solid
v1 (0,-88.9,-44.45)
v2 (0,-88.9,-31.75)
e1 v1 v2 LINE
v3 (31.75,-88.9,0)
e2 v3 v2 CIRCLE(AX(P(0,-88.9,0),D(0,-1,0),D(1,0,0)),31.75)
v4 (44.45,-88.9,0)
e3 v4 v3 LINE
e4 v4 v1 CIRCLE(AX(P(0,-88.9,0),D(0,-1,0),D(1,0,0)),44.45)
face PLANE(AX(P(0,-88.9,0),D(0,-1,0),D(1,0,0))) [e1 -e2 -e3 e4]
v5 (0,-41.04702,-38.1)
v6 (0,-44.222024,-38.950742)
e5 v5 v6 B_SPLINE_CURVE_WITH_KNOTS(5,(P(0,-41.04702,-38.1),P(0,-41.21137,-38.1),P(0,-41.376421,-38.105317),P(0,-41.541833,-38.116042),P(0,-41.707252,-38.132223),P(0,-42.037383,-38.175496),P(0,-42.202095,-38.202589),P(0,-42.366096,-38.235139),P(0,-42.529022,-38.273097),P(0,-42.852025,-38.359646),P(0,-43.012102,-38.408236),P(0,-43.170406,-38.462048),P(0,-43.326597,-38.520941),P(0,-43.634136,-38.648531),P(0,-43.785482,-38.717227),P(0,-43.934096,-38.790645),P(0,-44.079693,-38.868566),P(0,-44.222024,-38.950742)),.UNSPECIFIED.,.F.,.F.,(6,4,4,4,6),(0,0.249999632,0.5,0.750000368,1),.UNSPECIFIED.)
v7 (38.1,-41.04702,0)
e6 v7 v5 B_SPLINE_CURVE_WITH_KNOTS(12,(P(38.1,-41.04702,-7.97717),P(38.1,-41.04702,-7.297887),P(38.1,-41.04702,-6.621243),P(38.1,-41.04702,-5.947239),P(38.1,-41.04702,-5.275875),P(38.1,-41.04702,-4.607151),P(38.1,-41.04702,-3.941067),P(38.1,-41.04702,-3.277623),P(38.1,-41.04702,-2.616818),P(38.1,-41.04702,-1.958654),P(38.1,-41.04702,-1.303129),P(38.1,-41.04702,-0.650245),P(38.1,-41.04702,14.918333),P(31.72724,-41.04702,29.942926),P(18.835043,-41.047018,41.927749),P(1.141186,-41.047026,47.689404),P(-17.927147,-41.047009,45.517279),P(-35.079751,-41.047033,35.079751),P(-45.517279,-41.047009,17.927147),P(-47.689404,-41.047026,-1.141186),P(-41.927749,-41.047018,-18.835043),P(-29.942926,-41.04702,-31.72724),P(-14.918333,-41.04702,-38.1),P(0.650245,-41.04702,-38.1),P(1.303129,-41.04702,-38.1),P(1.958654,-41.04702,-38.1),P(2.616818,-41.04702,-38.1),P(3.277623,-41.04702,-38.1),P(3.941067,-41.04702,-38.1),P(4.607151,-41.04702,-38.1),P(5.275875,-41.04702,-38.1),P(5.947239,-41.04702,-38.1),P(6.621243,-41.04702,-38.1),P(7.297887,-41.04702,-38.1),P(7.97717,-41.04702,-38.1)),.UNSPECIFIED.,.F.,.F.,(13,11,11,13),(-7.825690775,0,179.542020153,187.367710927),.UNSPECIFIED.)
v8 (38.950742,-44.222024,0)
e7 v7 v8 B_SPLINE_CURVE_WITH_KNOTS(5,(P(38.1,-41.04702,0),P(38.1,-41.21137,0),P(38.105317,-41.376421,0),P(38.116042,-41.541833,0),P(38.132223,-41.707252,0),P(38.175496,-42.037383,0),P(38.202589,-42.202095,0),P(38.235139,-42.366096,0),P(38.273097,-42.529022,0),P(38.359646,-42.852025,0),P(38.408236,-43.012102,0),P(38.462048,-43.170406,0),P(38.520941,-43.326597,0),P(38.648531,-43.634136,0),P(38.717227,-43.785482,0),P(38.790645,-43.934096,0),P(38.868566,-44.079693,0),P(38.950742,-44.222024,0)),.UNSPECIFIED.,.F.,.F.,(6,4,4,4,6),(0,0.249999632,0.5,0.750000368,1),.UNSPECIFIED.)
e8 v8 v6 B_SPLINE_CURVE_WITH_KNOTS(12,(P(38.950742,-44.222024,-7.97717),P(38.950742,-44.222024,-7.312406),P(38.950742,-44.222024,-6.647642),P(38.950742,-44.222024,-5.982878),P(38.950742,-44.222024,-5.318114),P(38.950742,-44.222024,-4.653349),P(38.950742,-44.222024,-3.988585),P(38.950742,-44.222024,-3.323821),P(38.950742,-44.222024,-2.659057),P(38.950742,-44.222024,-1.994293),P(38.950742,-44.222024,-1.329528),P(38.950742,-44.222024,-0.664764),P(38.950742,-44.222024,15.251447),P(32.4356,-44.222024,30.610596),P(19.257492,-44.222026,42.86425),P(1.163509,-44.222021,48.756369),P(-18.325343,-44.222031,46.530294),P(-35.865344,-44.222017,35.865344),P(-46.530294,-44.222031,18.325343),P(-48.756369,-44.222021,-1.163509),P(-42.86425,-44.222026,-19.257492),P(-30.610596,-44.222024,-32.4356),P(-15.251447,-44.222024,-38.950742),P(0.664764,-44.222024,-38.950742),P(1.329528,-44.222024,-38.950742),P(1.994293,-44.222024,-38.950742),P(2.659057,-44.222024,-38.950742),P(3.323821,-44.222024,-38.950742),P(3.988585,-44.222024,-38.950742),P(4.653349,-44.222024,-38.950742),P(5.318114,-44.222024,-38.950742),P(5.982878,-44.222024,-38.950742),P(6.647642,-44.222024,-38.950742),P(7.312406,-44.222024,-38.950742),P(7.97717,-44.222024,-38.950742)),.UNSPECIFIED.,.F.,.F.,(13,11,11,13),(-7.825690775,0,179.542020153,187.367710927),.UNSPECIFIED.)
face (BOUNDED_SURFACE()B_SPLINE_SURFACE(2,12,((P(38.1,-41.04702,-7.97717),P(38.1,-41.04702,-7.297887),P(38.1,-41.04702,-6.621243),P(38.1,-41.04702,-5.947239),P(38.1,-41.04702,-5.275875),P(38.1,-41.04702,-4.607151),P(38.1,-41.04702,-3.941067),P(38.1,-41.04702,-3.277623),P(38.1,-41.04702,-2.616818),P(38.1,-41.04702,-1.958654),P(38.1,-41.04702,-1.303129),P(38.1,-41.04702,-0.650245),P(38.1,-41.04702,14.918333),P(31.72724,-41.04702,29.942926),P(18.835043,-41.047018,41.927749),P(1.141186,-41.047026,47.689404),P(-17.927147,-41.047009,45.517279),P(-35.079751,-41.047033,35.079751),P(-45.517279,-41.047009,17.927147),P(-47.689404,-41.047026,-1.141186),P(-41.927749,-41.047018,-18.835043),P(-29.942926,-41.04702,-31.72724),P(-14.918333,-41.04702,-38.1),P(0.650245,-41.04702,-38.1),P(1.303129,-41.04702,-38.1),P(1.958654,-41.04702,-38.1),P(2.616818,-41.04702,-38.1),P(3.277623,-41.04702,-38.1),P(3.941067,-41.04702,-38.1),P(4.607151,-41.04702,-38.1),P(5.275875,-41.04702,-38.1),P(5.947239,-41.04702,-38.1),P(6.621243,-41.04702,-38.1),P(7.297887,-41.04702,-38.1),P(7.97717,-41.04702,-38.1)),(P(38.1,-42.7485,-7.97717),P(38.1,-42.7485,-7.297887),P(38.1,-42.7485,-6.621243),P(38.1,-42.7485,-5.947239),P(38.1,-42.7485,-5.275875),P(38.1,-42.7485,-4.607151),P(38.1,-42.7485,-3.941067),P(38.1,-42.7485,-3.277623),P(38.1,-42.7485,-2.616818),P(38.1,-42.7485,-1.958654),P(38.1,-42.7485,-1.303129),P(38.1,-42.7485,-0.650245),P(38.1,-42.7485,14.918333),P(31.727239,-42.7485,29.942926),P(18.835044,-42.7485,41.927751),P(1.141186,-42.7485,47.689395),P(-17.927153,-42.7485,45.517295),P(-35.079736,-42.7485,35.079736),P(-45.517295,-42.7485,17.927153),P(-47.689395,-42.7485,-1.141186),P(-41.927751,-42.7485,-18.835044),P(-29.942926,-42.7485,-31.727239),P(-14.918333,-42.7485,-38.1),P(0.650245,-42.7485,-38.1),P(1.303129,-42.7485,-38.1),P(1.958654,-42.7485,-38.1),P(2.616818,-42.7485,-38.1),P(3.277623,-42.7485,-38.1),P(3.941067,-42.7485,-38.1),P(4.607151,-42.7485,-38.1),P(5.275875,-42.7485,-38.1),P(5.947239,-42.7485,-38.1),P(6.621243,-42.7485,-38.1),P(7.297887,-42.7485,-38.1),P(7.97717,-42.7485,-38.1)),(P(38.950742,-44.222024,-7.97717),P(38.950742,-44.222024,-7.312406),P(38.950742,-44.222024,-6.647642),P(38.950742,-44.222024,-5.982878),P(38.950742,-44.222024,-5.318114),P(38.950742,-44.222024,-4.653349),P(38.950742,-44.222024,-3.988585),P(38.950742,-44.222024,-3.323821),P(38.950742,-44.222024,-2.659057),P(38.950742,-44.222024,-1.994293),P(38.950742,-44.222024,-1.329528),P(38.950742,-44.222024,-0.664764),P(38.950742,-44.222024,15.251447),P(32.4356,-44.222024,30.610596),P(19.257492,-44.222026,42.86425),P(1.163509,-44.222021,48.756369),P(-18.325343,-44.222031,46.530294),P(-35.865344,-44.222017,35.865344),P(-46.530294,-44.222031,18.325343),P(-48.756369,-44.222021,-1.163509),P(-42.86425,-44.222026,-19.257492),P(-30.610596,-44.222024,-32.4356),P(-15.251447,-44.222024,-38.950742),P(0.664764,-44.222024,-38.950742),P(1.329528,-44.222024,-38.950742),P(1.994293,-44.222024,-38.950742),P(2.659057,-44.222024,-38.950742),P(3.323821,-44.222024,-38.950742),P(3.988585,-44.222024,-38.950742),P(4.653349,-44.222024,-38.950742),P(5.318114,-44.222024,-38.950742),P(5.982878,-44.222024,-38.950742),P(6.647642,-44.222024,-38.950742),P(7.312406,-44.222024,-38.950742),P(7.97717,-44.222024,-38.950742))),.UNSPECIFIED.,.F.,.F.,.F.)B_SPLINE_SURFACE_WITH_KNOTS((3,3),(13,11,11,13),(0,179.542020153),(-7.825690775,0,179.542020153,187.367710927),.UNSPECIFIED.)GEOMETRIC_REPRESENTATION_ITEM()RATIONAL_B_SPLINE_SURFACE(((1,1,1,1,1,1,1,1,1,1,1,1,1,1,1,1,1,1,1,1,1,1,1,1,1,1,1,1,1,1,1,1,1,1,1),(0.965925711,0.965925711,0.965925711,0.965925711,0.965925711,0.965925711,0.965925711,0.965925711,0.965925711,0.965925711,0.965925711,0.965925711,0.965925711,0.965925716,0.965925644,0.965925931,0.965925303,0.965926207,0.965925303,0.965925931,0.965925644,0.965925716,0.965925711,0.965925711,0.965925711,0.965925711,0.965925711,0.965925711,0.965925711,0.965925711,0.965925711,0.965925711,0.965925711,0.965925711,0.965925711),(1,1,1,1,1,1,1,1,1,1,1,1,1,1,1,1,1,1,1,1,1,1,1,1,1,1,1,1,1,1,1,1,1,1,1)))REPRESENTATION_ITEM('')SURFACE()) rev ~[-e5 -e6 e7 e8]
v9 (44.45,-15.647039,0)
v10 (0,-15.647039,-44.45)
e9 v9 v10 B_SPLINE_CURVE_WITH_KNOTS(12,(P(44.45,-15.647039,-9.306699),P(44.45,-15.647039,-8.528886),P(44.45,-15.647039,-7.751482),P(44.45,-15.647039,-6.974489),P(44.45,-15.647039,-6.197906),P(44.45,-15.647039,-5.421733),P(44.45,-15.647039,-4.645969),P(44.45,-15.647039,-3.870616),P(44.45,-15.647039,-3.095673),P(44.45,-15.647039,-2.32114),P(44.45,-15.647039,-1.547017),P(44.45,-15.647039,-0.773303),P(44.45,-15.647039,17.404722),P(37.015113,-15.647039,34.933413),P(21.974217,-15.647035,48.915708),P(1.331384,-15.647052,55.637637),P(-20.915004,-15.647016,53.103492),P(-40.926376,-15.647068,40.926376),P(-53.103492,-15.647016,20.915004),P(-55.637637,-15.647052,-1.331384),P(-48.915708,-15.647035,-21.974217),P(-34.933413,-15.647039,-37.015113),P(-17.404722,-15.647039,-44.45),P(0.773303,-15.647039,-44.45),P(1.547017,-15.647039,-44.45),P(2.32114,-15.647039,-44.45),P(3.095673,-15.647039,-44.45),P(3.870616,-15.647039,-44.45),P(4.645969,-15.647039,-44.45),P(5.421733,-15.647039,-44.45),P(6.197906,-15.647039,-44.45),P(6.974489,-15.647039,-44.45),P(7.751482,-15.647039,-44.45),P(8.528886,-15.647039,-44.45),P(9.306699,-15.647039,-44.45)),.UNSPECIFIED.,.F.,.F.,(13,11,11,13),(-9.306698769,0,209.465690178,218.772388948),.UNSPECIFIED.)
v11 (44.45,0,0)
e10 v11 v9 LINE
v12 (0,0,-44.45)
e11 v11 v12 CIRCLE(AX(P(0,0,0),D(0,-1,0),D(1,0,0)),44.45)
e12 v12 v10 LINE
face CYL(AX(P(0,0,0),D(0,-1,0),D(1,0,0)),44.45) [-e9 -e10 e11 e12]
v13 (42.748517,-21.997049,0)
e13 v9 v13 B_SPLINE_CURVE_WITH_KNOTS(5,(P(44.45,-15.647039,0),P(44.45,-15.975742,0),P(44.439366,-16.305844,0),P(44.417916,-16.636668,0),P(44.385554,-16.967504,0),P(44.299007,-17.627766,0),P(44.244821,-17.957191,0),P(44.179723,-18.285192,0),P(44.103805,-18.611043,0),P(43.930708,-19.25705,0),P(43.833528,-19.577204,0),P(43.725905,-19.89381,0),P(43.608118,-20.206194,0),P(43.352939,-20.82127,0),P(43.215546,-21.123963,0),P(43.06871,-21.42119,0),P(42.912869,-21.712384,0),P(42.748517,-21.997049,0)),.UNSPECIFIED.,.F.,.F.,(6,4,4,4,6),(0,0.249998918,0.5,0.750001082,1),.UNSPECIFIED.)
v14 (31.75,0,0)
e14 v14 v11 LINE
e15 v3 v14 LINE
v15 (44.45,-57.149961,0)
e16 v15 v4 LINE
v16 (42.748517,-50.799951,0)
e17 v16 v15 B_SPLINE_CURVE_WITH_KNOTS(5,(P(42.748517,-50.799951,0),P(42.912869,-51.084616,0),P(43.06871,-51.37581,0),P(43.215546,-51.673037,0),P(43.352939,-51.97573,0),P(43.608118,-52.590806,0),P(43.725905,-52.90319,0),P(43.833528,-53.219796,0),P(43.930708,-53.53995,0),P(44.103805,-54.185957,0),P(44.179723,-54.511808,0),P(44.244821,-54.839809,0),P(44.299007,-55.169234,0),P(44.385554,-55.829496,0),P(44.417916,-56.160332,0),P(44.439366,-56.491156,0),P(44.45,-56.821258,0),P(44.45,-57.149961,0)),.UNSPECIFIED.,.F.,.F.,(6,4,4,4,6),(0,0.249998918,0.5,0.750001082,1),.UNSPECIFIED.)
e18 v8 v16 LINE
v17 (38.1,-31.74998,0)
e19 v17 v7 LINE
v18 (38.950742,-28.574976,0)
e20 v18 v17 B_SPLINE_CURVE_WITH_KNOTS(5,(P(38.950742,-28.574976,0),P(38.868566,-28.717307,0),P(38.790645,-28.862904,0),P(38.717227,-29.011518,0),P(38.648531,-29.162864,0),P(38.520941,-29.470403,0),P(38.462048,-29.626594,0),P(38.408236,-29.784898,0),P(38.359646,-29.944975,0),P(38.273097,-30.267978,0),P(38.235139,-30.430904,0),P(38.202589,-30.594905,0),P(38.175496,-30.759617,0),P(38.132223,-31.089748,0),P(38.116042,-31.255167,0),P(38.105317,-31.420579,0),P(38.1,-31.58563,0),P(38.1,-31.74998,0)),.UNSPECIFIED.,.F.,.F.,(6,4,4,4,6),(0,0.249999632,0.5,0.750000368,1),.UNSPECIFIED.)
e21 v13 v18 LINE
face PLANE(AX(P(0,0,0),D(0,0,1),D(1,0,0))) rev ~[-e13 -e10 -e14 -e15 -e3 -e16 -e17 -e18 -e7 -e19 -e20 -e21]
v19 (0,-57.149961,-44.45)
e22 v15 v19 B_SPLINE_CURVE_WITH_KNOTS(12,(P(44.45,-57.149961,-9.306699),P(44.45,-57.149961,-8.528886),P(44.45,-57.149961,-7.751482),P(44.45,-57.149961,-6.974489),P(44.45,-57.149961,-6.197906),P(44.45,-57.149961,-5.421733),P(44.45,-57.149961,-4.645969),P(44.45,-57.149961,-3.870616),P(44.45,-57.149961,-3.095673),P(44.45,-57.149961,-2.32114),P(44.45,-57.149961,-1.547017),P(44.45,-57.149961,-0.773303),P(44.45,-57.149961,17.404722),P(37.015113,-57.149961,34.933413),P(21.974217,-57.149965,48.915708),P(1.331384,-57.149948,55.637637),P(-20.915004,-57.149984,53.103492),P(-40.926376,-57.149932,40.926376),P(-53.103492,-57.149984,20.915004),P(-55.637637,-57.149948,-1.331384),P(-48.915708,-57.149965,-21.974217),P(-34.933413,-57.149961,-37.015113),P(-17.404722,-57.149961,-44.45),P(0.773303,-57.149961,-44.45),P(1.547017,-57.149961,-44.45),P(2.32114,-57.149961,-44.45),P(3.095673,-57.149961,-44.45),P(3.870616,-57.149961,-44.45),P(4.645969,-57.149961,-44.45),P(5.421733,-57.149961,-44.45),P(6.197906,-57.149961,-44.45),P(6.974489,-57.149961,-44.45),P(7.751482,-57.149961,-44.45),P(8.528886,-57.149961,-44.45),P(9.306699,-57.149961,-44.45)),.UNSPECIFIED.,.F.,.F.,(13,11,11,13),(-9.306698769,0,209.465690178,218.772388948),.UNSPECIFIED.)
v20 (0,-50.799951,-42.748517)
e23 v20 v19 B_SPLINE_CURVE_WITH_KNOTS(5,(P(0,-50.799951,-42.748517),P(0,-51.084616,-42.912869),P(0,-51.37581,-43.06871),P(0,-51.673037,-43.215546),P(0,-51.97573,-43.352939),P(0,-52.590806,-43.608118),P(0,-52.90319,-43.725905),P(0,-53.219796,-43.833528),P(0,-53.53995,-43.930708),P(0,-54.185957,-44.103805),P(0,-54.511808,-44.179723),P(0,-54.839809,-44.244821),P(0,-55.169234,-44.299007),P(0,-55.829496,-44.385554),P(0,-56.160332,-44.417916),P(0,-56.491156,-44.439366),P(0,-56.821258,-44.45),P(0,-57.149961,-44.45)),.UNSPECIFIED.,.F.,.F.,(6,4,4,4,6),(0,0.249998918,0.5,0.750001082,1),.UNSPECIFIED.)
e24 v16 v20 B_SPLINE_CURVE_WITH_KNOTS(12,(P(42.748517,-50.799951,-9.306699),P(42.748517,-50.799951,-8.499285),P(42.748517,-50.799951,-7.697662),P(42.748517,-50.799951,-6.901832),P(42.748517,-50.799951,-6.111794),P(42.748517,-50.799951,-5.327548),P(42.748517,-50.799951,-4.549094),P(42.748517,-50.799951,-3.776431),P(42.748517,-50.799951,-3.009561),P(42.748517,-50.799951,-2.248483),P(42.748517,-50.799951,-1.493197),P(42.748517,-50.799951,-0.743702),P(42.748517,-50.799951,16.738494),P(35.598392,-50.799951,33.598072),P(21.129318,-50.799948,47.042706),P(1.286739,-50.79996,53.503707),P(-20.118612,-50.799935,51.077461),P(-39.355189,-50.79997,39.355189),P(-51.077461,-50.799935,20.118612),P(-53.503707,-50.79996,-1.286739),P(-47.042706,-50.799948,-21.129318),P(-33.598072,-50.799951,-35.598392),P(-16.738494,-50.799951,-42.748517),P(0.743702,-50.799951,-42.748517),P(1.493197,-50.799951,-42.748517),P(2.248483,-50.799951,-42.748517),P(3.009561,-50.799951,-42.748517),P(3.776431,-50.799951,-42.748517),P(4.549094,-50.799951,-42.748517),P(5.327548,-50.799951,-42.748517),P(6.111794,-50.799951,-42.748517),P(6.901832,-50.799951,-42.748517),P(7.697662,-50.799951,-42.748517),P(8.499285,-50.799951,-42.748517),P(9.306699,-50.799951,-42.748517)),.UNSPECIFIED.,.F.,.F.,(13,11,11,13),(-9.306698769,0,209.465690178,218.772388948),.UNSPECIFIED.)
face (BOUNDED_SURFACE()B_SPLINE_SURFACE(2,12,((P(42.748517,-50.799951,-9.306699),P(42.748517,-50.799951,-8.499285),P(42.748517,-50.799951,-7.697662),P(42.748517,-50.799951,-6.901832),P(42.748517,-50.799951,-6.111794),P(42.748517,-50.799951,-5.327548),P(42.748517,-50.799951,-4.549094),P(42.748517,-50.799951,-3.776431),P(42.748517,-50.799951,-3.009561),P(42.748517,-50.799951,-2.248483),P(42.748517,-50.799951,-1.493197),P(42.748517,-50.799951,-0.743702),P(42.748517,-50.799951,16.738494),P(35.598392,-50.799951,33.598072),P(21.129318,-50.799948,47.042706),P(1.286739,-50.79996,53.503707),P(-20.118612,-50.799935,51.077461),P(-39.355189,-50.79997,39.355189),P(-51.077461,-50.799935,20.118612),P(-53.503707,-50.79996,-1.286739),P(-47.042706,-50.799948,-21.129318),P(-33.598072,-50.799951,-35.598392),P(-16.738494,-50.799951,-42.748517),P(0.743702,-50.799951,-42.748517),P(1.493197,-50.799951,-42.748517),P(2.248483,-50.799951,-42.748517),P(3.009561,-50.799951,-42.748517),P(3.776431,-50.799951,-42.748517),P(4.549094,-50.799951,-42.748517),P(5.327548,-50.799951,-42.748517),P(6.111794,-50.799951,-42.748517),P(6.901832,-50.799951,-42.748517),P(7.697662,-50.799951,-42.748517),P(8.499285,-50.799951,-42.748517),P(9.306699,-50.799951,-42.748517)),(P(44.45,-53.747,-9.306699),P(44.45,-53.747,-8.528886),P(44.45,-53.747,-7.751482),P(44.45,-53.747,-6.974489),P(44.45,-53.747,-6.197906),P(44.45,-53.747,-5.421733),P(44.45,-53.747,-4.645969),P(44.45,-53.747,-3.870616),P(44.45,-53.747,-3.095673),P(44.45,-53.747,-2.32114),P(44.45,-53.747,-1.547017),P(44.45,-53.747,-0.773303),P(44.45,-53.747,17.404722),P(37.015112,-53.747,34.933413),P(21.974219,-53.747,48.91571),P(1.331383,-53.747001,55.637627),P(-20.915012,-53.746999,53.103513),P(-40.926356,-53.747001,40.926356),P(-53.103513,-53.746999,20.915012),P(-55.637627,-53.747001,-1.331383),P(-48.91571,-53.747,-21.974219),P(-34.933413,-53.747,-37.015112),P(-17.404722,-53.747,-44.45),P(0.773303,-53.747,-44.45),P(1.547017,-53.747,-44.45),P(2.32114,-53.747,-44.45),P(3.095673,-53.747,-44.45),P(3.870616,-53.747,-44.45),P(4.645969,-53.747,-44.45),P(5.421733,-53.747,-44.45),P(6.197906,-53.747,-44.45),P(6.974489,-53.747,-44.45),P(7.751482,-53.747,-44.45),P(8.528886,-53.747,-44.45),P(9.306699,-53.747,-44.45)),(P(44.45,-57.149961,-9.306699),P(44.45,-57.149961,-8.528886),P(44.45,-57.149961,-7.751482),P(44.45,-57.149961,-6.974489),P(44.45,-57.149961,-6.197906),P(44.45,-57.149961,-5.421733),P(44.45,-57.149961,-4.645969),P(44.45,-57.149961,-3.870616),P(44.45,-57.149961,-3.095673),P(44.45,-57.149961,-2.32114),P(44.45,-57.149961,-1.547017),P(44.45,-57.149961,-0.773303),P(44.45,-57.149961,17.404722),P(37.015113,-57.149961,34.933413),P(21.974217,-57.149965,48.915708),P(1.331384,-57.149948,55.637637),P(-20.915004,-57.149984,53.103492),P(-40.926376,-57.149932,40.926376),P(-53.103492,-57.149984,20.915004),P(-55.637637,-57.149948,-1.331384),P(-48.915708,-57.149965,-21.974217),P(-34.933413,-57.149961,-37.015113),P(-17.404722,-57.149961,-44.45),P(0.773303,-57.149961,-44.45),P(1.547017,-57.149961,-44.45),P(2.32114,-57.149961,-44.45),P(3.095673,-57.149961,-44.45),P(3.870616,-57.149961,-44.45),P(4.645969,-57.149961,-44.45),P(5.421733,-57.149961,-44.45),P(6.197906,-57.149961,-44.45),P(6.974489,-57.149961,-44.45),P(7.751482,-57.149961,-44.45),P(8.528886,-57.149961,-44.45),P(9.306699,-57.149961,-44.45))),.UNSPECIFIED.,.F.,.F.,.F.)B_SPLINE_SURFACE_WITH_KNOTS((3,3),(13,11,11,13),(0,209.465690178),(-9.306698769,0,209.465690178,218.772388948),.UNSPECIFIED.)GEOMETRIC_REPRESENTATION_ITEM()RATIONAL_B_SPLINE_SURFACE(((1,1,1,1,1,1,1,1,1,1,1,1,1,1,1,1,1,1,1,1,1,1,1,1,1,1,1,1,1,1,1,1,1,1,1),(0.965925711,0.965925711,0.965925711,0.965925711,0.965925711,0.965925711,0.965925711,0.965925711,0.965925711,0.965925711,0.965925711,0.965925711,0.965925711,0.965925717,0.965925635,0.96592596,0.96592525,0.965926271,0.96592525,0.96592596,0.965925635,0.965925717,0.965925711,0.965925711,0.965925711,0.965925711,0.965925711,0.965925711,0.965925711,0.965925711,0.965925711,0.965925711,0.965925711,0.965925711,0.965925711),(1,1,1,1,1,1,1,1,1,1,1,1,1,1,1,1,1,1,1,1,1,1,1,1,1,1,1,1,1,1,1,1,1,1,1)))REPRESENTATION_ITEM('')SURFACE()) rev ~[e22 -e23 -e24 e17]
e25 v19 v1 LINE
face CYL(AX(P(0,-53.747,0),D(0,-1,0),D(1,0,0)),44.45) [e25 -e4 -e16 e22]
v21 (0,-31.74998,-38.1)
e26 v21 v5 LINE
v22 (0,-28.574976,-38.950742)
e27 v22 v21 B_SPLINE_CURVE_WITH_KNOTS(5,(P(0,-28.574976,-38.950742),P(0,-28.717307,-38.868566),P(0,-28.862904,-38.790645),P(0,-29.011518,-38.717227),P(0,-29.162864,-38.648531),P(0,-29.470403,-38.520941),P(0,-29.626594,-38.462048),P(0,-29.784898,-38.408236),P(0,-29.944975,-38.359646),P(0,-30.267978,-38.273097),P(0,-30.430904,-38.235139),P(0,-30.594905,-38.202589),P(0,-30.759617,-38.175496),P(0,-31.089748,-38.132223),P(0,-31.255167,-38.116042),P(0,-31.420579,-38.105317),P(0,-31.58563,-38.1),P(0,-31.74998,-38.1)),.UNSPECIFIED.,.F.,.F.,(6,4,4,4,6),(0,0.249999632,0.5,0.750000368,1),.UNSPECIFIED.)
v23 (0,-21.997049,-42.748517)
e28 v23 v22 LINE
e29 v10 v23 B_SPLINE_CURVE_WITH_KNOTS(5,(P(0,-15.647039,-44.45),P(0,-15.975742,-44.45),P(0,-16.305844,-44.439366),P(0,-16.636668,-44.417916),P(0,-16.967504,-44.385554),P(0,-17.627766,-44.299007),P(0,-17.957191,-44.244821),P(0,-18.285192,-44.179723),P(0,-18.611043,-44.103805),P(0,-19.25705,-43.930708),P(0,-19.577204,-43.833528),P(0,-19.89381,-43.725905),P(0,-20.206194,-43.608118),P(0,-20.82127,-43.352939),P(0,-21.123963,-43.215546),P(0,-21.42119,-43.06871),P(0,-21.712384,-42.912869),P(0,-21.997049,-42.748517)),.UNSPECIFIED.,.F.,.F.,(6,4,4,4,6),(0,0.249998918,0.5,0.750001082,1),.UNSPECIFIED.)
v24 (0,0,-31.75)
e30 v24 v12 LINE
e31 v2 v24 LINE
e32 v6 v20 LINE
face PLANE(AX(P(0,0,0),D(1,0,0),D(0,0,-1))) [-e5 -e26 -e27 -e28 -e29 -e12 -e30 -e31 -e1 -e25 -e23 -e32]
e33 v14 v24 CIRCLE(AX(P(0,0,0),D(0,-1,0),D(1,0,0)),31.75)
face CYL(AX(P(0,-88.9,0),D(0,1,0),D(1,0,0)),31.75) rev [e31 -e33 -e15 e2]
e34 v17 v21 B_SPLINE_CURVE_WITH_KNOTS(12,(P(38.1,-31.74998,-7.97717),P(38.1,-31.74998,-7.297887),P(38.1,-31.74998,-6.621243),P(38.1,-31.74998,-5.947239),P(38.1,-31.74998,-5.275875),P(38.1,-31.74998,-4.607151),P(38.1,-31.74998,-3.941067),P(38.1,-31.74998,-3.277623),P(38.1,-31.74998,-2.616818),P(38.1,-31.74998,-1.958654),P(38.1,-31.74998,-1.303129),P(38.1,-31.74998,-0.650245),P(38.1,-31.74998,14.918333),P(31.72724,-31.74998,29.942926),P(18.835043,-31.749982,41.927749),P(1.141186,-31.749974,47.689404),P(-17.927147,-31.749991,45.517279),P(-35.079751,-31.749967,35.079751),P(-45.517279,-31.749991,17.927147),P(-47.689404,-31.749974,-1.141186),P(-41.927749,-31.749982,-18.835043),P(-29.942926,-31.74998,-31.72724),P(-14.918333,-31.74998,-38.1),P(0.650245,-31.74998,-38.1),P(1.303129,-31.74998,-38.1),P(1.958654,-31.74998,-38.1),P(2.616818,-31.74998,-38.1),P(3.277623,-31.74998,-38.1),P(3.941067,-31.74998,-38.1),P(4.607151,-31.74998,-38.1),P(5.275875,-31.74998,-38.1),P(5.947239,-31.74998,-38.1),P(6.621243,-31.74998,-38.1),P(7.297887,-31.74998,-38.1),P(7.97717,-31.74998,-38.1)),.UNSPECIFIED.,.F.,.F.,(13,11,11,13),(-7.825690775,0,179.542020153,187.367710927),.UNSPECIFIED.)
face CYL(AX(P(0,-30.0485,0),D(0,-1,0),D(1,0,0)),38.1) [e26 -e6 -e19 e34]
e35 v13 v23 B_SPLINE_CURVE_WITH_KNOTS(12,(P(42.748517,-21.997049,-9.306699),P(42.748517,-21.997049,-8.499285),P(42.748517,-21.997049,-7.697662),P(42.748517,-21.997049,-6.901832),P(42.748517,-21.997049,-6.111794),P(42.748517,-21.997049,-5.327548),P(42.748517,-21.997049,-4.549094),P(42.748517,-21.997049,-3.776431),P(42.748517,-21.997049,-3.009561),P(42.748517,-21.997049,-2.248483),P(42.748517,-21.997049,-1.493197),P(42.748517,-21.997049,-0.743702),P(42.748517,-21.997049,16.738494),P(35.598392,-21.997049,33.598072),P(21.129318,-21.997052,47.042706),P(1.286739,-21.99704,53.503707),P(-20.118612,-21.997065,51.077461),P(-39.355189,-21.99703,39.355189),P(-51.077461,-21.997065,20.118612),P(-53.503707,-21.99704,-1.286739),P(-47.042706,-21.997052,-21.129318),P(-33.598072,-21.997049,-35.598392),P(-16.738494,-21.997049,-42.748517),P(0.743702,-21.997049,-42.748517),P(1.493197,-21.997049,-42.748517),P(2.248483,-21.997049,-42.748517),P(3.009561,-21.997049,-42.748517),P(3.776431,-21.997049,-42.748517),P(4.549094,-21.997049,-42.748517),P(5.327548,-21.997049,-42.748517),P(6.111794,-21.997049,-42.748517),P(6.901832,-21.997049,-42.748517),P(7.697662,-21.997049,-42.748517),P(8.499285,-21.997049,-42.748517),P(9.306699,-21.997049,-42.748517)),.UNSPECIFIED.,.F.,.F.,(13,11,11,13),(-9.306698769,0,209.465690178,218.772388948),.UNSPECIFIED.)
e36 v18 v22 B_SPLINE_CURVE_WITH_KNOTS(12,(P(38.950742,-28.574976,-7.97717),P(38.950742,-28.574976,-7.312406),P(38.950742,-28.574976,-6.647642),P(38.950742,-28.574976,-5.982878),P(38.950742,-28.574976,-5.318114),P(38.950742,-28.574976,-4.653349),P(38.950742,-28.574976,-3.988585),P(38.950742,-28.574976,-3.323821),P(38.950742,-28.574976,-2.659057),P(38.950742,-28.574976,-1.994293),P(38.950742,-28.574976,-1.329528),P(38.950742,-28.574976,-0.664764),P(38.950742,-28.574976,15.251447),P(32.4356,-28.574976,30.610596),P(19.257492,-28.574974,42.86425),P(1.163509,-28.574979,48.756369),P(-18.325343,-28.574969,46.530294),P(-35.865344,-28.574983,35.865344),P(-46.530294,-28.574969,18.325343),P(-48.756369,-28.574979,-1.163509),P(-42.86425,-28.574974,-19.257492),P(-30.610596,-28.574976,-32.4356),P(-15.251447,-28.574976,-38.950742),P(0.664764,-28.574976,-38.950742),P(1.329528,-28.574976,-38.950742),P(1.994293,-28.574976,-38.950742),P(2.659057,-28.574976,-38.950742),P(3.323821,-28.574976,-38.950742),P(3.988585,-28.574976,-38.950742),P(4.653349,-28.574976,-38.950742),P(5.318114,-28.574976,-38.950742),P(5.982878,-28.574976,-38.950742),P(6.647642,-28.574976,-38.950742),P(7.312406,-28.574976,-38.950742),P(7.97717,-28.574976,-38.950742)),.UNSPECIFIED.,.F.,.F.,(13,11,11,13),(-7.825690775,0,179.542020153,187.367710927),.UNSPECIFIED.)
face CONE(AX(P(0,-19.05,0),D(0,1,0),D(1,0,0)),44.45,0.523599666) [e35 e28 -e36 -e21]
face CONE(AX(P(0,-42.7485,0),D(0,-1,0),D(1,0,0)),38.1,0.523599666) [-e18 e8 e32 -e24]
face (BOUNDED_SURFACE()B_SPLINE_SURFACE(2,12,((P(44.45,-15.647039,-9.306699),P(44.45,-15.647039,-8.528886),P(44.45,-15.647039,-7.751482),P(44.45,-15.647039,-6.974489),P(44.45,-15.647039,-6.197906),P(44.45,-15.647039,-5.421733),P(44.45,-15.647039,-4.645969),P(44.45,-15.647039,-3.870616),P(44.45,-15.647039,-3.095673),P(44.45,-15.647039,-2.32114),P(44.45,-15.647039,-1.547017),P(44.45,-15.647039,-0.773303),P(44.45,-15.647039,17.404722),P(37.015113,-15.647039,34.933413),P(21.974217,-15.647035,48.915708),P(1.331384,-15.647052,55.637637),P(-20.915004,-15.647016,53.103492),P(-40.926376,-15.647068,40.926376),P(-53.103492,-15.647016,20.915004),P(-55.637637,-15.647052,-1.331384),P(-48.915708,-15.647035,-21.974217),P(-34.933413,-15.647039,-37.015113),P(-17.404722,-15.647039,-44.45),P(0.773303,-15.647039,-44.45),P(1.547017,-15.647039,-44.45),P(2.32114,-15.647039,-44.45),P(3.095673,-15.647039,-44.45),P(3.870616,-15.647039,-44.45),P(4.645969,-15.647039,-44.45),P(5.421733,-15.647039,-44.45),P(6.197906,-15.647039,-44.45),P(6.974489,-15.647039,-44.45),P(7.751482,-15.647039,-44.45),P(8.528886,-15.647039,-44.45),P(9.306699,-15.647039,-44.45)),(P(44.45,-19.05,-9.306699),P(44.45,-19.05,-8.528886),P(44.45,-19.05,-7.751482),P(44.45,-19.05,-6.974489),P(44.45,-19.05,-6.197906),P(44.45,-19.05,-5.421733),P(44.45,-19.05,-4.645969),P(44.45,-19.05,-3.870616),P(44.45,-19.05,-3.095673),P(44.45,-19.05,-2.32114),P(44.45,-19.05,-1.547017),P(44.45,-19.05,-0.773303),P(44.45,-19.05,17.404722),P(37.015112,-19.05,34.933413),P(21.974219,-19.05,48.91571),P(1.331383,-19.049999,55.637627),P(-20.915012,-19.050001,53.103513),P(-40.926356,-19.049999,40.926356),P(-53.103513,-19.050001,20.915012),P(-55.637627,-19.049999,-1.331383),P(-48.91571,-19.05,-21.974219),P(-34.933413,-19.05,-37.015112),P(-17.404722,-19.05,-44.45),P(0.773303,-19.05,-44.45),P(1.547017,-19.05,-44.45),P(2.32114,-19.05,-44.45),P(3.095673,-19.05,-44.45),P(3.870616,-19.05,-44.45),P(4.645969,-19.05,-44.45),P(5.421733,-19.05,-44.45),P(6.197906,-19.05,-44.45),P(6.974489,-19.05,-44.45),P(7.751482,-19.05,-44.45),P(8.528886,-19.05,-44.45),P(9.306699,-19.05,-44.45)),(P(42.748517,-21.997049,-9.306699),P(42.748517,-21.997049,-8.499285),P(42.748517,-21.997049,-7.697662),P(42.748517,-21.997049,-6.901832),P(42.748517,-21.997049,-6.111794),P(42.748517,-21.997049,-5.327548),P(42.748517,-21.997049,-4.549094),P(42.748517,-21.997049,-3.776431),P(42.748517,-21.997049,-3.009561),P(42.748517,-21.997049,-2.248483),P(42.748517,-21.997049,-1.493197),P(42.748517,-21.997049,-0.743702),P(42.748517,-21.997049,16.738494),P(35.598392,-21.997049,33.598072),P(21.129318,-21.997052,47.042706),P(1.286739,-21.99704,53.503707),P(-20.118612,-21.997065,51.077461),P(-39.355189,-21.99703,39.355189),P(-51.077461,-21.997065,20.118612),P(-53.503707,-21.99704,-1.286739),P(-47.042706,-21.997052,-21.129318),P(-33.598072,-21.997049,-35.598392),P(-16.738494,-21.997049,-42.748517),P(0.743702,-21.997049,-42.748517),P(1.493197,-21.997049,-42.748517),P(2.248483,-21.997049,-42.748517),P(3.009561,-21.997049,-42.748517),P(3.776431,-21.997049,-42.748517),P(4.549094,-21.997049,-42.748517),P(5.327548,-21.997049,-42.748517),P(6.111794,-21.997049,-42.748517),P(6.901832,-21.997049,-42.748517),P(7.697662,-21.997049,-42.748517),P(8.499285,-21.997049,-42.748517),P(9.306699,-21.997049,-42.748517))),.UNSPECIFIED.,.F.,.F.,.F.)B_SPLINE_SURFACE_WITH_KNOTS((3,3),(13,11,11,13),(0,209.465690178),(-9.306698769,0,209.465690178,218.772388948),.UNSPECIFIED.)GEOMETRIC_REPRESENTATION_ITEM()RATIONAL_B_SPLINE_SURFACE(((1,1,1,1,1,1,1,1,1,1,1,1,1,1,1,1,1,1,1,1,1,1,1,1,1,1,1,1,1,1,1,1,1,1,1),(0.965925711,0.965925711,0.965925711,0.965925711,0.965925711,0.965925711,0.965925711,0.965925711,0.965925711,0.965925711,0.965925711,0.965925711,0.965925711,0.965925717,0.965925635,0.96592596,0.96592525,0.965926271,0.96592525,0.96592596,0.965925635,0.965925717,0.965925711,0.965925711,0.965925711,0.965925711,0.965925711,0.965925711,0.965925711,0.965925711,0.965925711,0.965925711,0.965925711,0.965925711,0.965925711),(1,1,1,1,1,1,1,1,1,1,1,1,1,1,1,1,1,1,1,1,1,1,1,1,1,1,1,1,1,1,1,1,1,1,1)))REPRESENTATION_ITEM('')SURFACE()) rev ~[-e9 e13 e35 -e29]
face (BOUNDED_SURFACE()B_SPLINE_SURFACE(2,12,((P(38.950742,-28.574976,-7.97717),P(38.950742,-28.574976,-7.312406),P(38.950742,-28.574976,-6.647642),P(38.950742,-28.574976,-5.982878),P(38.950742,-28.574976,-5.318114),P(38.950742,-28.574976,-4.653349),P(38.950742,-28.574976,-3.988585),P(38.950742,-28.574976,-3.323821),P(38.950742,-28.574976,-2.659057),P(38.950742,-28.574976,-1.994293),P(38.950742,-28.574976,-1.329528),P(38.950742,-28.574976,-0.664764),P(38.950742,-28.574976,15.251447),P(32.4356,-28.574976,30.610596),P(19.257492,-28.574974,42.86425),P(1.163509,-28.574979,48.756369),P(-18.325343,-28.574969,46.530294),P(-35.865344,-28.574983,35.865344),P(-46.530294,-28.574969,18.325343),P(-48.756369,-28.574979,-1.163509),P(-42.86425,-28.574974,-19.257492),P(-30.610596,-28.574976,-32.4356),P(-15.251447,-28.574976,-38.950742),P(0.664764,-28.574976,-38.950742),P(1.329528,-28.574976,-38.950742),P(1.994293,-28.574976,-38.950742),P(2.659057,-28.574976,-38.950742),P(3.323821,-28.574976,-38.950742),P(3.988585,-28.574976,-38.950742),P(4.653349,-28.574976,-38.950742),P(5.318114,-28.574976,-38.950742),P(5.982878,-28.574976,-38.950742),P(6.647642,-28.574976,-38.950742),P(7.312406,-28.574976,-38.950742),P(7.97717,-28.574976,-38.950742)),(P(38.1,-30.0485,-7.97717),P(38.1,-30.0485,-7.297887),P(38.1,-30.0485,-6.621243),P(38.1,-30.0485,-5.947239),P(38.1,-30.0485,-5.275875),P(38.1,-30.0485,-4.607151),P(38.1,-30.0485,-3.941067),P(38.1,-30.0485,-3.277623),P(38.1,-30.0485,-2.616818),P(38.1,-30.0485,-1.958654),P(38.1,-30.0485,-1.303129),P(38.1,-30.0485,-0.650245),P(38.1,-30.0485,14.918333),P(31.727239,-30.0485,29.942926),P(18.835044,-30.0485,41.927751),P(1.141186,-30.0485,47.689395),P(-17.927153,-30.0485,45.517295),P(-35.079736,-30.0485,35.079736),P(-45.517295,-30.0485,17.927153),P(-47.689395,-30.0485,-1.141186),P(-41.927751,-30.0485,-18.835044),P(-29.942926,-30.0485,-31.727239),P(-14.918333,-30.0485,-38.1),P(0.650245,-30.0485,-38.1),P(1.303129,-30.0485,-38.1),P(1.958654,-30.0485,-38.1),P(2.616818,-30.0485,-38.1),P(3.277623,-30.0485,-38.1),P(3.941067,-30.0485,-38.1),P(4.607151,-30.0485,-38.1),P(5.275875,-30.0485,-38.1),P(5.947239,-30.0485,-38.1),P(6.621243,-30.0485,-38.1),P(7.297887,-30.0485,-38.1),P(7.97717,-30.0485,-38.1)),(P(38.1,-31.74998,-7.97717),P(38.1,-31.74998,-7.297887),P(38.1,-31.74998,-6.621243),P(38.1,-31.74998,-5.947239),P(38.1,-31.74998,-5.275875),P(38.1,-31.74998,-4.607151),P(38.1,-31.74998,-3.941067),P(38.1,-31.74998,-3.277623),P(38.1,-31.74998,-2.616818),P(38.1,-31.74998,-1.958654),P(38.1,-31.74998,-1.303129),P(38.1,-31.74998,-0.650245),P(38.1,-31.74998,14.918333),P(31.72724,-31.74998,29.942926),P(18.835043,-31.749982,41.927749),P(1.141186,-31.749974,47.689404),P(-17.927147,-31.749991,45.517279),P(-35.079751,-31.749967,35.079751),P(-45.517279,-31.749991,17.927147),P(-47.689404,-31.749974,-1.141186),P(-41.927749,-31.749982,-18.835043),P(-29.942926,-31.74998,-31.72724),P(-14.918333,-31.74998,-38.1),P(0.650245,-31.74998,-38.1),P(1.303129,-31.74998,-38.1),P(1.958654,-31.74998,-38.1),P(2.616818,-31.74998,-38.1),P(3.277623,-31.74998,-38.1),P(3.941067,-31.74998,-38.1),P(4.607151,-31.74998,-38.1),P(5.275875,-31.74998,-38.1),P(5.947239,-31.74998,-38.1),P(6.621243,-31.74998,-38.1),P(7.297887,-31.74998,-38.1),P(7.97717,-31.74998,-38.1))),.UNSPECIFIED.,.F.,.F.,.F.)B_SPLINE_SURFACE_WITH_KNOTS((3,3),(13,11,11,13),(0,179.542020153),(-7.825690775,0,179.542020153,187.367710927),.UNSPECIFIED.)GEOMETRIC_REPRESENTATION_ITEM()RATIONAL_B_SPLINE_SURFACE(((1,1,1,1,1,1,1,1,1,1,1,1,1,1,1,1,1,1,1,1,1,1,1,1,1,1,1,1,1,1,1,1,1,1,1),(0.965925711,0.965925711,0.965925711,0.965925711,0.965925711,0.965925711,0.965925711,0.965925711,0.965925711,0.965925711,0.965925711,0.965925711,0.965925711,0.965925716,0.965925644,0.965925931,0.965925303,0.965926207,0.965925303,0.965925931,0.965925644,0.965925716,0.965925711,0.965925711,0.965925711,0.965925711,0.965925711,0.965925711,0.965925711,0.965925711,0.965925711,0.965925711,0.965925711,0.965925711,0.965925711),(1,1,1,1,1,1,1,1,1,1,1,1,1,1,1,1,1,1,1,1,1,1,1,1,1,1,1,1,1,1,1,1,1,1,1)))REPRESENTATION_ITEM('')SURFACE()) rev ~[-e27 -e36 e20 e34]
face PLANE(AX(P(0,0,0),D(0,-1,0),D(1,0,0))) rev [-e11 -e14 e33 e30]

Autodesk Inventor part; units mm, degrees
ref_plane "YZ Plane" through (0, 0, 0) normal (1, 0, 0) x (0, 1, 0)
ref_plane "XZ Plane" through (0, 0, 0) normal (0, 1, 0) x (-1, 0, 0)
ref_plane "XY Plane" through (0, 0, 0) normal (0, 0, 1) x (1, 0, 0)
sketch "Sketch1" plane through (0, 0, 0) normal (0, 0, 1) x (1, 0, 0)
  line L0 (0, 0) -> (31.75, 0) construction
  line L1 (31.75, 0) -> (44.45, 0)
  line L2 (44.45, 0) -> (44.45, -19.05)
  line L3 (44.45, -19.05) -> (38.1, -30.0485)
  line L4 (38.1, -30.0485) -> (38.1, -42.7485)
  line L5 (38.1, -42.7485) -> (44.45, -53.747)
  line L6 (44.45, -53.747) -> (44.45, -88.9)
  line L7 (44.45, -88.9) -> (31.75, -88.9)
  line L8 (31.75, -88.9) -> (31.75, 0)
  line L9 (0, 0) -> (0, -152.4)
  dimension "d0" = 31.75
  dimension "d1" = 12.7
  dimension "d2" = 6.35
  dimension "d3" = 150
  dimension "d4" = 19.05
  dimension "d5" = 88.9
  dimension "d6" = 150
  dimension "d7" = 12.7
  dimension "d9" = 152.4
revolve "Revolution1" add sketch "Sketch1" angle 270 about axis through (0, 0, 0) along (0, -1, 0)
fillet "Fillet1" radius 12.7 2 edges at (-31.4309, -19.05, 31.4309) (-31.4309, -53.747, 31.4309)
fillet "Fillet1" radius 6.35 2 edges at (-26.9408, -42.7485, 26.9408) (-26.9408, -30.0485, 26.9408)
equation "\"d6\" = d3"
properties part number "Foam Weight Shifter Pad 1"
